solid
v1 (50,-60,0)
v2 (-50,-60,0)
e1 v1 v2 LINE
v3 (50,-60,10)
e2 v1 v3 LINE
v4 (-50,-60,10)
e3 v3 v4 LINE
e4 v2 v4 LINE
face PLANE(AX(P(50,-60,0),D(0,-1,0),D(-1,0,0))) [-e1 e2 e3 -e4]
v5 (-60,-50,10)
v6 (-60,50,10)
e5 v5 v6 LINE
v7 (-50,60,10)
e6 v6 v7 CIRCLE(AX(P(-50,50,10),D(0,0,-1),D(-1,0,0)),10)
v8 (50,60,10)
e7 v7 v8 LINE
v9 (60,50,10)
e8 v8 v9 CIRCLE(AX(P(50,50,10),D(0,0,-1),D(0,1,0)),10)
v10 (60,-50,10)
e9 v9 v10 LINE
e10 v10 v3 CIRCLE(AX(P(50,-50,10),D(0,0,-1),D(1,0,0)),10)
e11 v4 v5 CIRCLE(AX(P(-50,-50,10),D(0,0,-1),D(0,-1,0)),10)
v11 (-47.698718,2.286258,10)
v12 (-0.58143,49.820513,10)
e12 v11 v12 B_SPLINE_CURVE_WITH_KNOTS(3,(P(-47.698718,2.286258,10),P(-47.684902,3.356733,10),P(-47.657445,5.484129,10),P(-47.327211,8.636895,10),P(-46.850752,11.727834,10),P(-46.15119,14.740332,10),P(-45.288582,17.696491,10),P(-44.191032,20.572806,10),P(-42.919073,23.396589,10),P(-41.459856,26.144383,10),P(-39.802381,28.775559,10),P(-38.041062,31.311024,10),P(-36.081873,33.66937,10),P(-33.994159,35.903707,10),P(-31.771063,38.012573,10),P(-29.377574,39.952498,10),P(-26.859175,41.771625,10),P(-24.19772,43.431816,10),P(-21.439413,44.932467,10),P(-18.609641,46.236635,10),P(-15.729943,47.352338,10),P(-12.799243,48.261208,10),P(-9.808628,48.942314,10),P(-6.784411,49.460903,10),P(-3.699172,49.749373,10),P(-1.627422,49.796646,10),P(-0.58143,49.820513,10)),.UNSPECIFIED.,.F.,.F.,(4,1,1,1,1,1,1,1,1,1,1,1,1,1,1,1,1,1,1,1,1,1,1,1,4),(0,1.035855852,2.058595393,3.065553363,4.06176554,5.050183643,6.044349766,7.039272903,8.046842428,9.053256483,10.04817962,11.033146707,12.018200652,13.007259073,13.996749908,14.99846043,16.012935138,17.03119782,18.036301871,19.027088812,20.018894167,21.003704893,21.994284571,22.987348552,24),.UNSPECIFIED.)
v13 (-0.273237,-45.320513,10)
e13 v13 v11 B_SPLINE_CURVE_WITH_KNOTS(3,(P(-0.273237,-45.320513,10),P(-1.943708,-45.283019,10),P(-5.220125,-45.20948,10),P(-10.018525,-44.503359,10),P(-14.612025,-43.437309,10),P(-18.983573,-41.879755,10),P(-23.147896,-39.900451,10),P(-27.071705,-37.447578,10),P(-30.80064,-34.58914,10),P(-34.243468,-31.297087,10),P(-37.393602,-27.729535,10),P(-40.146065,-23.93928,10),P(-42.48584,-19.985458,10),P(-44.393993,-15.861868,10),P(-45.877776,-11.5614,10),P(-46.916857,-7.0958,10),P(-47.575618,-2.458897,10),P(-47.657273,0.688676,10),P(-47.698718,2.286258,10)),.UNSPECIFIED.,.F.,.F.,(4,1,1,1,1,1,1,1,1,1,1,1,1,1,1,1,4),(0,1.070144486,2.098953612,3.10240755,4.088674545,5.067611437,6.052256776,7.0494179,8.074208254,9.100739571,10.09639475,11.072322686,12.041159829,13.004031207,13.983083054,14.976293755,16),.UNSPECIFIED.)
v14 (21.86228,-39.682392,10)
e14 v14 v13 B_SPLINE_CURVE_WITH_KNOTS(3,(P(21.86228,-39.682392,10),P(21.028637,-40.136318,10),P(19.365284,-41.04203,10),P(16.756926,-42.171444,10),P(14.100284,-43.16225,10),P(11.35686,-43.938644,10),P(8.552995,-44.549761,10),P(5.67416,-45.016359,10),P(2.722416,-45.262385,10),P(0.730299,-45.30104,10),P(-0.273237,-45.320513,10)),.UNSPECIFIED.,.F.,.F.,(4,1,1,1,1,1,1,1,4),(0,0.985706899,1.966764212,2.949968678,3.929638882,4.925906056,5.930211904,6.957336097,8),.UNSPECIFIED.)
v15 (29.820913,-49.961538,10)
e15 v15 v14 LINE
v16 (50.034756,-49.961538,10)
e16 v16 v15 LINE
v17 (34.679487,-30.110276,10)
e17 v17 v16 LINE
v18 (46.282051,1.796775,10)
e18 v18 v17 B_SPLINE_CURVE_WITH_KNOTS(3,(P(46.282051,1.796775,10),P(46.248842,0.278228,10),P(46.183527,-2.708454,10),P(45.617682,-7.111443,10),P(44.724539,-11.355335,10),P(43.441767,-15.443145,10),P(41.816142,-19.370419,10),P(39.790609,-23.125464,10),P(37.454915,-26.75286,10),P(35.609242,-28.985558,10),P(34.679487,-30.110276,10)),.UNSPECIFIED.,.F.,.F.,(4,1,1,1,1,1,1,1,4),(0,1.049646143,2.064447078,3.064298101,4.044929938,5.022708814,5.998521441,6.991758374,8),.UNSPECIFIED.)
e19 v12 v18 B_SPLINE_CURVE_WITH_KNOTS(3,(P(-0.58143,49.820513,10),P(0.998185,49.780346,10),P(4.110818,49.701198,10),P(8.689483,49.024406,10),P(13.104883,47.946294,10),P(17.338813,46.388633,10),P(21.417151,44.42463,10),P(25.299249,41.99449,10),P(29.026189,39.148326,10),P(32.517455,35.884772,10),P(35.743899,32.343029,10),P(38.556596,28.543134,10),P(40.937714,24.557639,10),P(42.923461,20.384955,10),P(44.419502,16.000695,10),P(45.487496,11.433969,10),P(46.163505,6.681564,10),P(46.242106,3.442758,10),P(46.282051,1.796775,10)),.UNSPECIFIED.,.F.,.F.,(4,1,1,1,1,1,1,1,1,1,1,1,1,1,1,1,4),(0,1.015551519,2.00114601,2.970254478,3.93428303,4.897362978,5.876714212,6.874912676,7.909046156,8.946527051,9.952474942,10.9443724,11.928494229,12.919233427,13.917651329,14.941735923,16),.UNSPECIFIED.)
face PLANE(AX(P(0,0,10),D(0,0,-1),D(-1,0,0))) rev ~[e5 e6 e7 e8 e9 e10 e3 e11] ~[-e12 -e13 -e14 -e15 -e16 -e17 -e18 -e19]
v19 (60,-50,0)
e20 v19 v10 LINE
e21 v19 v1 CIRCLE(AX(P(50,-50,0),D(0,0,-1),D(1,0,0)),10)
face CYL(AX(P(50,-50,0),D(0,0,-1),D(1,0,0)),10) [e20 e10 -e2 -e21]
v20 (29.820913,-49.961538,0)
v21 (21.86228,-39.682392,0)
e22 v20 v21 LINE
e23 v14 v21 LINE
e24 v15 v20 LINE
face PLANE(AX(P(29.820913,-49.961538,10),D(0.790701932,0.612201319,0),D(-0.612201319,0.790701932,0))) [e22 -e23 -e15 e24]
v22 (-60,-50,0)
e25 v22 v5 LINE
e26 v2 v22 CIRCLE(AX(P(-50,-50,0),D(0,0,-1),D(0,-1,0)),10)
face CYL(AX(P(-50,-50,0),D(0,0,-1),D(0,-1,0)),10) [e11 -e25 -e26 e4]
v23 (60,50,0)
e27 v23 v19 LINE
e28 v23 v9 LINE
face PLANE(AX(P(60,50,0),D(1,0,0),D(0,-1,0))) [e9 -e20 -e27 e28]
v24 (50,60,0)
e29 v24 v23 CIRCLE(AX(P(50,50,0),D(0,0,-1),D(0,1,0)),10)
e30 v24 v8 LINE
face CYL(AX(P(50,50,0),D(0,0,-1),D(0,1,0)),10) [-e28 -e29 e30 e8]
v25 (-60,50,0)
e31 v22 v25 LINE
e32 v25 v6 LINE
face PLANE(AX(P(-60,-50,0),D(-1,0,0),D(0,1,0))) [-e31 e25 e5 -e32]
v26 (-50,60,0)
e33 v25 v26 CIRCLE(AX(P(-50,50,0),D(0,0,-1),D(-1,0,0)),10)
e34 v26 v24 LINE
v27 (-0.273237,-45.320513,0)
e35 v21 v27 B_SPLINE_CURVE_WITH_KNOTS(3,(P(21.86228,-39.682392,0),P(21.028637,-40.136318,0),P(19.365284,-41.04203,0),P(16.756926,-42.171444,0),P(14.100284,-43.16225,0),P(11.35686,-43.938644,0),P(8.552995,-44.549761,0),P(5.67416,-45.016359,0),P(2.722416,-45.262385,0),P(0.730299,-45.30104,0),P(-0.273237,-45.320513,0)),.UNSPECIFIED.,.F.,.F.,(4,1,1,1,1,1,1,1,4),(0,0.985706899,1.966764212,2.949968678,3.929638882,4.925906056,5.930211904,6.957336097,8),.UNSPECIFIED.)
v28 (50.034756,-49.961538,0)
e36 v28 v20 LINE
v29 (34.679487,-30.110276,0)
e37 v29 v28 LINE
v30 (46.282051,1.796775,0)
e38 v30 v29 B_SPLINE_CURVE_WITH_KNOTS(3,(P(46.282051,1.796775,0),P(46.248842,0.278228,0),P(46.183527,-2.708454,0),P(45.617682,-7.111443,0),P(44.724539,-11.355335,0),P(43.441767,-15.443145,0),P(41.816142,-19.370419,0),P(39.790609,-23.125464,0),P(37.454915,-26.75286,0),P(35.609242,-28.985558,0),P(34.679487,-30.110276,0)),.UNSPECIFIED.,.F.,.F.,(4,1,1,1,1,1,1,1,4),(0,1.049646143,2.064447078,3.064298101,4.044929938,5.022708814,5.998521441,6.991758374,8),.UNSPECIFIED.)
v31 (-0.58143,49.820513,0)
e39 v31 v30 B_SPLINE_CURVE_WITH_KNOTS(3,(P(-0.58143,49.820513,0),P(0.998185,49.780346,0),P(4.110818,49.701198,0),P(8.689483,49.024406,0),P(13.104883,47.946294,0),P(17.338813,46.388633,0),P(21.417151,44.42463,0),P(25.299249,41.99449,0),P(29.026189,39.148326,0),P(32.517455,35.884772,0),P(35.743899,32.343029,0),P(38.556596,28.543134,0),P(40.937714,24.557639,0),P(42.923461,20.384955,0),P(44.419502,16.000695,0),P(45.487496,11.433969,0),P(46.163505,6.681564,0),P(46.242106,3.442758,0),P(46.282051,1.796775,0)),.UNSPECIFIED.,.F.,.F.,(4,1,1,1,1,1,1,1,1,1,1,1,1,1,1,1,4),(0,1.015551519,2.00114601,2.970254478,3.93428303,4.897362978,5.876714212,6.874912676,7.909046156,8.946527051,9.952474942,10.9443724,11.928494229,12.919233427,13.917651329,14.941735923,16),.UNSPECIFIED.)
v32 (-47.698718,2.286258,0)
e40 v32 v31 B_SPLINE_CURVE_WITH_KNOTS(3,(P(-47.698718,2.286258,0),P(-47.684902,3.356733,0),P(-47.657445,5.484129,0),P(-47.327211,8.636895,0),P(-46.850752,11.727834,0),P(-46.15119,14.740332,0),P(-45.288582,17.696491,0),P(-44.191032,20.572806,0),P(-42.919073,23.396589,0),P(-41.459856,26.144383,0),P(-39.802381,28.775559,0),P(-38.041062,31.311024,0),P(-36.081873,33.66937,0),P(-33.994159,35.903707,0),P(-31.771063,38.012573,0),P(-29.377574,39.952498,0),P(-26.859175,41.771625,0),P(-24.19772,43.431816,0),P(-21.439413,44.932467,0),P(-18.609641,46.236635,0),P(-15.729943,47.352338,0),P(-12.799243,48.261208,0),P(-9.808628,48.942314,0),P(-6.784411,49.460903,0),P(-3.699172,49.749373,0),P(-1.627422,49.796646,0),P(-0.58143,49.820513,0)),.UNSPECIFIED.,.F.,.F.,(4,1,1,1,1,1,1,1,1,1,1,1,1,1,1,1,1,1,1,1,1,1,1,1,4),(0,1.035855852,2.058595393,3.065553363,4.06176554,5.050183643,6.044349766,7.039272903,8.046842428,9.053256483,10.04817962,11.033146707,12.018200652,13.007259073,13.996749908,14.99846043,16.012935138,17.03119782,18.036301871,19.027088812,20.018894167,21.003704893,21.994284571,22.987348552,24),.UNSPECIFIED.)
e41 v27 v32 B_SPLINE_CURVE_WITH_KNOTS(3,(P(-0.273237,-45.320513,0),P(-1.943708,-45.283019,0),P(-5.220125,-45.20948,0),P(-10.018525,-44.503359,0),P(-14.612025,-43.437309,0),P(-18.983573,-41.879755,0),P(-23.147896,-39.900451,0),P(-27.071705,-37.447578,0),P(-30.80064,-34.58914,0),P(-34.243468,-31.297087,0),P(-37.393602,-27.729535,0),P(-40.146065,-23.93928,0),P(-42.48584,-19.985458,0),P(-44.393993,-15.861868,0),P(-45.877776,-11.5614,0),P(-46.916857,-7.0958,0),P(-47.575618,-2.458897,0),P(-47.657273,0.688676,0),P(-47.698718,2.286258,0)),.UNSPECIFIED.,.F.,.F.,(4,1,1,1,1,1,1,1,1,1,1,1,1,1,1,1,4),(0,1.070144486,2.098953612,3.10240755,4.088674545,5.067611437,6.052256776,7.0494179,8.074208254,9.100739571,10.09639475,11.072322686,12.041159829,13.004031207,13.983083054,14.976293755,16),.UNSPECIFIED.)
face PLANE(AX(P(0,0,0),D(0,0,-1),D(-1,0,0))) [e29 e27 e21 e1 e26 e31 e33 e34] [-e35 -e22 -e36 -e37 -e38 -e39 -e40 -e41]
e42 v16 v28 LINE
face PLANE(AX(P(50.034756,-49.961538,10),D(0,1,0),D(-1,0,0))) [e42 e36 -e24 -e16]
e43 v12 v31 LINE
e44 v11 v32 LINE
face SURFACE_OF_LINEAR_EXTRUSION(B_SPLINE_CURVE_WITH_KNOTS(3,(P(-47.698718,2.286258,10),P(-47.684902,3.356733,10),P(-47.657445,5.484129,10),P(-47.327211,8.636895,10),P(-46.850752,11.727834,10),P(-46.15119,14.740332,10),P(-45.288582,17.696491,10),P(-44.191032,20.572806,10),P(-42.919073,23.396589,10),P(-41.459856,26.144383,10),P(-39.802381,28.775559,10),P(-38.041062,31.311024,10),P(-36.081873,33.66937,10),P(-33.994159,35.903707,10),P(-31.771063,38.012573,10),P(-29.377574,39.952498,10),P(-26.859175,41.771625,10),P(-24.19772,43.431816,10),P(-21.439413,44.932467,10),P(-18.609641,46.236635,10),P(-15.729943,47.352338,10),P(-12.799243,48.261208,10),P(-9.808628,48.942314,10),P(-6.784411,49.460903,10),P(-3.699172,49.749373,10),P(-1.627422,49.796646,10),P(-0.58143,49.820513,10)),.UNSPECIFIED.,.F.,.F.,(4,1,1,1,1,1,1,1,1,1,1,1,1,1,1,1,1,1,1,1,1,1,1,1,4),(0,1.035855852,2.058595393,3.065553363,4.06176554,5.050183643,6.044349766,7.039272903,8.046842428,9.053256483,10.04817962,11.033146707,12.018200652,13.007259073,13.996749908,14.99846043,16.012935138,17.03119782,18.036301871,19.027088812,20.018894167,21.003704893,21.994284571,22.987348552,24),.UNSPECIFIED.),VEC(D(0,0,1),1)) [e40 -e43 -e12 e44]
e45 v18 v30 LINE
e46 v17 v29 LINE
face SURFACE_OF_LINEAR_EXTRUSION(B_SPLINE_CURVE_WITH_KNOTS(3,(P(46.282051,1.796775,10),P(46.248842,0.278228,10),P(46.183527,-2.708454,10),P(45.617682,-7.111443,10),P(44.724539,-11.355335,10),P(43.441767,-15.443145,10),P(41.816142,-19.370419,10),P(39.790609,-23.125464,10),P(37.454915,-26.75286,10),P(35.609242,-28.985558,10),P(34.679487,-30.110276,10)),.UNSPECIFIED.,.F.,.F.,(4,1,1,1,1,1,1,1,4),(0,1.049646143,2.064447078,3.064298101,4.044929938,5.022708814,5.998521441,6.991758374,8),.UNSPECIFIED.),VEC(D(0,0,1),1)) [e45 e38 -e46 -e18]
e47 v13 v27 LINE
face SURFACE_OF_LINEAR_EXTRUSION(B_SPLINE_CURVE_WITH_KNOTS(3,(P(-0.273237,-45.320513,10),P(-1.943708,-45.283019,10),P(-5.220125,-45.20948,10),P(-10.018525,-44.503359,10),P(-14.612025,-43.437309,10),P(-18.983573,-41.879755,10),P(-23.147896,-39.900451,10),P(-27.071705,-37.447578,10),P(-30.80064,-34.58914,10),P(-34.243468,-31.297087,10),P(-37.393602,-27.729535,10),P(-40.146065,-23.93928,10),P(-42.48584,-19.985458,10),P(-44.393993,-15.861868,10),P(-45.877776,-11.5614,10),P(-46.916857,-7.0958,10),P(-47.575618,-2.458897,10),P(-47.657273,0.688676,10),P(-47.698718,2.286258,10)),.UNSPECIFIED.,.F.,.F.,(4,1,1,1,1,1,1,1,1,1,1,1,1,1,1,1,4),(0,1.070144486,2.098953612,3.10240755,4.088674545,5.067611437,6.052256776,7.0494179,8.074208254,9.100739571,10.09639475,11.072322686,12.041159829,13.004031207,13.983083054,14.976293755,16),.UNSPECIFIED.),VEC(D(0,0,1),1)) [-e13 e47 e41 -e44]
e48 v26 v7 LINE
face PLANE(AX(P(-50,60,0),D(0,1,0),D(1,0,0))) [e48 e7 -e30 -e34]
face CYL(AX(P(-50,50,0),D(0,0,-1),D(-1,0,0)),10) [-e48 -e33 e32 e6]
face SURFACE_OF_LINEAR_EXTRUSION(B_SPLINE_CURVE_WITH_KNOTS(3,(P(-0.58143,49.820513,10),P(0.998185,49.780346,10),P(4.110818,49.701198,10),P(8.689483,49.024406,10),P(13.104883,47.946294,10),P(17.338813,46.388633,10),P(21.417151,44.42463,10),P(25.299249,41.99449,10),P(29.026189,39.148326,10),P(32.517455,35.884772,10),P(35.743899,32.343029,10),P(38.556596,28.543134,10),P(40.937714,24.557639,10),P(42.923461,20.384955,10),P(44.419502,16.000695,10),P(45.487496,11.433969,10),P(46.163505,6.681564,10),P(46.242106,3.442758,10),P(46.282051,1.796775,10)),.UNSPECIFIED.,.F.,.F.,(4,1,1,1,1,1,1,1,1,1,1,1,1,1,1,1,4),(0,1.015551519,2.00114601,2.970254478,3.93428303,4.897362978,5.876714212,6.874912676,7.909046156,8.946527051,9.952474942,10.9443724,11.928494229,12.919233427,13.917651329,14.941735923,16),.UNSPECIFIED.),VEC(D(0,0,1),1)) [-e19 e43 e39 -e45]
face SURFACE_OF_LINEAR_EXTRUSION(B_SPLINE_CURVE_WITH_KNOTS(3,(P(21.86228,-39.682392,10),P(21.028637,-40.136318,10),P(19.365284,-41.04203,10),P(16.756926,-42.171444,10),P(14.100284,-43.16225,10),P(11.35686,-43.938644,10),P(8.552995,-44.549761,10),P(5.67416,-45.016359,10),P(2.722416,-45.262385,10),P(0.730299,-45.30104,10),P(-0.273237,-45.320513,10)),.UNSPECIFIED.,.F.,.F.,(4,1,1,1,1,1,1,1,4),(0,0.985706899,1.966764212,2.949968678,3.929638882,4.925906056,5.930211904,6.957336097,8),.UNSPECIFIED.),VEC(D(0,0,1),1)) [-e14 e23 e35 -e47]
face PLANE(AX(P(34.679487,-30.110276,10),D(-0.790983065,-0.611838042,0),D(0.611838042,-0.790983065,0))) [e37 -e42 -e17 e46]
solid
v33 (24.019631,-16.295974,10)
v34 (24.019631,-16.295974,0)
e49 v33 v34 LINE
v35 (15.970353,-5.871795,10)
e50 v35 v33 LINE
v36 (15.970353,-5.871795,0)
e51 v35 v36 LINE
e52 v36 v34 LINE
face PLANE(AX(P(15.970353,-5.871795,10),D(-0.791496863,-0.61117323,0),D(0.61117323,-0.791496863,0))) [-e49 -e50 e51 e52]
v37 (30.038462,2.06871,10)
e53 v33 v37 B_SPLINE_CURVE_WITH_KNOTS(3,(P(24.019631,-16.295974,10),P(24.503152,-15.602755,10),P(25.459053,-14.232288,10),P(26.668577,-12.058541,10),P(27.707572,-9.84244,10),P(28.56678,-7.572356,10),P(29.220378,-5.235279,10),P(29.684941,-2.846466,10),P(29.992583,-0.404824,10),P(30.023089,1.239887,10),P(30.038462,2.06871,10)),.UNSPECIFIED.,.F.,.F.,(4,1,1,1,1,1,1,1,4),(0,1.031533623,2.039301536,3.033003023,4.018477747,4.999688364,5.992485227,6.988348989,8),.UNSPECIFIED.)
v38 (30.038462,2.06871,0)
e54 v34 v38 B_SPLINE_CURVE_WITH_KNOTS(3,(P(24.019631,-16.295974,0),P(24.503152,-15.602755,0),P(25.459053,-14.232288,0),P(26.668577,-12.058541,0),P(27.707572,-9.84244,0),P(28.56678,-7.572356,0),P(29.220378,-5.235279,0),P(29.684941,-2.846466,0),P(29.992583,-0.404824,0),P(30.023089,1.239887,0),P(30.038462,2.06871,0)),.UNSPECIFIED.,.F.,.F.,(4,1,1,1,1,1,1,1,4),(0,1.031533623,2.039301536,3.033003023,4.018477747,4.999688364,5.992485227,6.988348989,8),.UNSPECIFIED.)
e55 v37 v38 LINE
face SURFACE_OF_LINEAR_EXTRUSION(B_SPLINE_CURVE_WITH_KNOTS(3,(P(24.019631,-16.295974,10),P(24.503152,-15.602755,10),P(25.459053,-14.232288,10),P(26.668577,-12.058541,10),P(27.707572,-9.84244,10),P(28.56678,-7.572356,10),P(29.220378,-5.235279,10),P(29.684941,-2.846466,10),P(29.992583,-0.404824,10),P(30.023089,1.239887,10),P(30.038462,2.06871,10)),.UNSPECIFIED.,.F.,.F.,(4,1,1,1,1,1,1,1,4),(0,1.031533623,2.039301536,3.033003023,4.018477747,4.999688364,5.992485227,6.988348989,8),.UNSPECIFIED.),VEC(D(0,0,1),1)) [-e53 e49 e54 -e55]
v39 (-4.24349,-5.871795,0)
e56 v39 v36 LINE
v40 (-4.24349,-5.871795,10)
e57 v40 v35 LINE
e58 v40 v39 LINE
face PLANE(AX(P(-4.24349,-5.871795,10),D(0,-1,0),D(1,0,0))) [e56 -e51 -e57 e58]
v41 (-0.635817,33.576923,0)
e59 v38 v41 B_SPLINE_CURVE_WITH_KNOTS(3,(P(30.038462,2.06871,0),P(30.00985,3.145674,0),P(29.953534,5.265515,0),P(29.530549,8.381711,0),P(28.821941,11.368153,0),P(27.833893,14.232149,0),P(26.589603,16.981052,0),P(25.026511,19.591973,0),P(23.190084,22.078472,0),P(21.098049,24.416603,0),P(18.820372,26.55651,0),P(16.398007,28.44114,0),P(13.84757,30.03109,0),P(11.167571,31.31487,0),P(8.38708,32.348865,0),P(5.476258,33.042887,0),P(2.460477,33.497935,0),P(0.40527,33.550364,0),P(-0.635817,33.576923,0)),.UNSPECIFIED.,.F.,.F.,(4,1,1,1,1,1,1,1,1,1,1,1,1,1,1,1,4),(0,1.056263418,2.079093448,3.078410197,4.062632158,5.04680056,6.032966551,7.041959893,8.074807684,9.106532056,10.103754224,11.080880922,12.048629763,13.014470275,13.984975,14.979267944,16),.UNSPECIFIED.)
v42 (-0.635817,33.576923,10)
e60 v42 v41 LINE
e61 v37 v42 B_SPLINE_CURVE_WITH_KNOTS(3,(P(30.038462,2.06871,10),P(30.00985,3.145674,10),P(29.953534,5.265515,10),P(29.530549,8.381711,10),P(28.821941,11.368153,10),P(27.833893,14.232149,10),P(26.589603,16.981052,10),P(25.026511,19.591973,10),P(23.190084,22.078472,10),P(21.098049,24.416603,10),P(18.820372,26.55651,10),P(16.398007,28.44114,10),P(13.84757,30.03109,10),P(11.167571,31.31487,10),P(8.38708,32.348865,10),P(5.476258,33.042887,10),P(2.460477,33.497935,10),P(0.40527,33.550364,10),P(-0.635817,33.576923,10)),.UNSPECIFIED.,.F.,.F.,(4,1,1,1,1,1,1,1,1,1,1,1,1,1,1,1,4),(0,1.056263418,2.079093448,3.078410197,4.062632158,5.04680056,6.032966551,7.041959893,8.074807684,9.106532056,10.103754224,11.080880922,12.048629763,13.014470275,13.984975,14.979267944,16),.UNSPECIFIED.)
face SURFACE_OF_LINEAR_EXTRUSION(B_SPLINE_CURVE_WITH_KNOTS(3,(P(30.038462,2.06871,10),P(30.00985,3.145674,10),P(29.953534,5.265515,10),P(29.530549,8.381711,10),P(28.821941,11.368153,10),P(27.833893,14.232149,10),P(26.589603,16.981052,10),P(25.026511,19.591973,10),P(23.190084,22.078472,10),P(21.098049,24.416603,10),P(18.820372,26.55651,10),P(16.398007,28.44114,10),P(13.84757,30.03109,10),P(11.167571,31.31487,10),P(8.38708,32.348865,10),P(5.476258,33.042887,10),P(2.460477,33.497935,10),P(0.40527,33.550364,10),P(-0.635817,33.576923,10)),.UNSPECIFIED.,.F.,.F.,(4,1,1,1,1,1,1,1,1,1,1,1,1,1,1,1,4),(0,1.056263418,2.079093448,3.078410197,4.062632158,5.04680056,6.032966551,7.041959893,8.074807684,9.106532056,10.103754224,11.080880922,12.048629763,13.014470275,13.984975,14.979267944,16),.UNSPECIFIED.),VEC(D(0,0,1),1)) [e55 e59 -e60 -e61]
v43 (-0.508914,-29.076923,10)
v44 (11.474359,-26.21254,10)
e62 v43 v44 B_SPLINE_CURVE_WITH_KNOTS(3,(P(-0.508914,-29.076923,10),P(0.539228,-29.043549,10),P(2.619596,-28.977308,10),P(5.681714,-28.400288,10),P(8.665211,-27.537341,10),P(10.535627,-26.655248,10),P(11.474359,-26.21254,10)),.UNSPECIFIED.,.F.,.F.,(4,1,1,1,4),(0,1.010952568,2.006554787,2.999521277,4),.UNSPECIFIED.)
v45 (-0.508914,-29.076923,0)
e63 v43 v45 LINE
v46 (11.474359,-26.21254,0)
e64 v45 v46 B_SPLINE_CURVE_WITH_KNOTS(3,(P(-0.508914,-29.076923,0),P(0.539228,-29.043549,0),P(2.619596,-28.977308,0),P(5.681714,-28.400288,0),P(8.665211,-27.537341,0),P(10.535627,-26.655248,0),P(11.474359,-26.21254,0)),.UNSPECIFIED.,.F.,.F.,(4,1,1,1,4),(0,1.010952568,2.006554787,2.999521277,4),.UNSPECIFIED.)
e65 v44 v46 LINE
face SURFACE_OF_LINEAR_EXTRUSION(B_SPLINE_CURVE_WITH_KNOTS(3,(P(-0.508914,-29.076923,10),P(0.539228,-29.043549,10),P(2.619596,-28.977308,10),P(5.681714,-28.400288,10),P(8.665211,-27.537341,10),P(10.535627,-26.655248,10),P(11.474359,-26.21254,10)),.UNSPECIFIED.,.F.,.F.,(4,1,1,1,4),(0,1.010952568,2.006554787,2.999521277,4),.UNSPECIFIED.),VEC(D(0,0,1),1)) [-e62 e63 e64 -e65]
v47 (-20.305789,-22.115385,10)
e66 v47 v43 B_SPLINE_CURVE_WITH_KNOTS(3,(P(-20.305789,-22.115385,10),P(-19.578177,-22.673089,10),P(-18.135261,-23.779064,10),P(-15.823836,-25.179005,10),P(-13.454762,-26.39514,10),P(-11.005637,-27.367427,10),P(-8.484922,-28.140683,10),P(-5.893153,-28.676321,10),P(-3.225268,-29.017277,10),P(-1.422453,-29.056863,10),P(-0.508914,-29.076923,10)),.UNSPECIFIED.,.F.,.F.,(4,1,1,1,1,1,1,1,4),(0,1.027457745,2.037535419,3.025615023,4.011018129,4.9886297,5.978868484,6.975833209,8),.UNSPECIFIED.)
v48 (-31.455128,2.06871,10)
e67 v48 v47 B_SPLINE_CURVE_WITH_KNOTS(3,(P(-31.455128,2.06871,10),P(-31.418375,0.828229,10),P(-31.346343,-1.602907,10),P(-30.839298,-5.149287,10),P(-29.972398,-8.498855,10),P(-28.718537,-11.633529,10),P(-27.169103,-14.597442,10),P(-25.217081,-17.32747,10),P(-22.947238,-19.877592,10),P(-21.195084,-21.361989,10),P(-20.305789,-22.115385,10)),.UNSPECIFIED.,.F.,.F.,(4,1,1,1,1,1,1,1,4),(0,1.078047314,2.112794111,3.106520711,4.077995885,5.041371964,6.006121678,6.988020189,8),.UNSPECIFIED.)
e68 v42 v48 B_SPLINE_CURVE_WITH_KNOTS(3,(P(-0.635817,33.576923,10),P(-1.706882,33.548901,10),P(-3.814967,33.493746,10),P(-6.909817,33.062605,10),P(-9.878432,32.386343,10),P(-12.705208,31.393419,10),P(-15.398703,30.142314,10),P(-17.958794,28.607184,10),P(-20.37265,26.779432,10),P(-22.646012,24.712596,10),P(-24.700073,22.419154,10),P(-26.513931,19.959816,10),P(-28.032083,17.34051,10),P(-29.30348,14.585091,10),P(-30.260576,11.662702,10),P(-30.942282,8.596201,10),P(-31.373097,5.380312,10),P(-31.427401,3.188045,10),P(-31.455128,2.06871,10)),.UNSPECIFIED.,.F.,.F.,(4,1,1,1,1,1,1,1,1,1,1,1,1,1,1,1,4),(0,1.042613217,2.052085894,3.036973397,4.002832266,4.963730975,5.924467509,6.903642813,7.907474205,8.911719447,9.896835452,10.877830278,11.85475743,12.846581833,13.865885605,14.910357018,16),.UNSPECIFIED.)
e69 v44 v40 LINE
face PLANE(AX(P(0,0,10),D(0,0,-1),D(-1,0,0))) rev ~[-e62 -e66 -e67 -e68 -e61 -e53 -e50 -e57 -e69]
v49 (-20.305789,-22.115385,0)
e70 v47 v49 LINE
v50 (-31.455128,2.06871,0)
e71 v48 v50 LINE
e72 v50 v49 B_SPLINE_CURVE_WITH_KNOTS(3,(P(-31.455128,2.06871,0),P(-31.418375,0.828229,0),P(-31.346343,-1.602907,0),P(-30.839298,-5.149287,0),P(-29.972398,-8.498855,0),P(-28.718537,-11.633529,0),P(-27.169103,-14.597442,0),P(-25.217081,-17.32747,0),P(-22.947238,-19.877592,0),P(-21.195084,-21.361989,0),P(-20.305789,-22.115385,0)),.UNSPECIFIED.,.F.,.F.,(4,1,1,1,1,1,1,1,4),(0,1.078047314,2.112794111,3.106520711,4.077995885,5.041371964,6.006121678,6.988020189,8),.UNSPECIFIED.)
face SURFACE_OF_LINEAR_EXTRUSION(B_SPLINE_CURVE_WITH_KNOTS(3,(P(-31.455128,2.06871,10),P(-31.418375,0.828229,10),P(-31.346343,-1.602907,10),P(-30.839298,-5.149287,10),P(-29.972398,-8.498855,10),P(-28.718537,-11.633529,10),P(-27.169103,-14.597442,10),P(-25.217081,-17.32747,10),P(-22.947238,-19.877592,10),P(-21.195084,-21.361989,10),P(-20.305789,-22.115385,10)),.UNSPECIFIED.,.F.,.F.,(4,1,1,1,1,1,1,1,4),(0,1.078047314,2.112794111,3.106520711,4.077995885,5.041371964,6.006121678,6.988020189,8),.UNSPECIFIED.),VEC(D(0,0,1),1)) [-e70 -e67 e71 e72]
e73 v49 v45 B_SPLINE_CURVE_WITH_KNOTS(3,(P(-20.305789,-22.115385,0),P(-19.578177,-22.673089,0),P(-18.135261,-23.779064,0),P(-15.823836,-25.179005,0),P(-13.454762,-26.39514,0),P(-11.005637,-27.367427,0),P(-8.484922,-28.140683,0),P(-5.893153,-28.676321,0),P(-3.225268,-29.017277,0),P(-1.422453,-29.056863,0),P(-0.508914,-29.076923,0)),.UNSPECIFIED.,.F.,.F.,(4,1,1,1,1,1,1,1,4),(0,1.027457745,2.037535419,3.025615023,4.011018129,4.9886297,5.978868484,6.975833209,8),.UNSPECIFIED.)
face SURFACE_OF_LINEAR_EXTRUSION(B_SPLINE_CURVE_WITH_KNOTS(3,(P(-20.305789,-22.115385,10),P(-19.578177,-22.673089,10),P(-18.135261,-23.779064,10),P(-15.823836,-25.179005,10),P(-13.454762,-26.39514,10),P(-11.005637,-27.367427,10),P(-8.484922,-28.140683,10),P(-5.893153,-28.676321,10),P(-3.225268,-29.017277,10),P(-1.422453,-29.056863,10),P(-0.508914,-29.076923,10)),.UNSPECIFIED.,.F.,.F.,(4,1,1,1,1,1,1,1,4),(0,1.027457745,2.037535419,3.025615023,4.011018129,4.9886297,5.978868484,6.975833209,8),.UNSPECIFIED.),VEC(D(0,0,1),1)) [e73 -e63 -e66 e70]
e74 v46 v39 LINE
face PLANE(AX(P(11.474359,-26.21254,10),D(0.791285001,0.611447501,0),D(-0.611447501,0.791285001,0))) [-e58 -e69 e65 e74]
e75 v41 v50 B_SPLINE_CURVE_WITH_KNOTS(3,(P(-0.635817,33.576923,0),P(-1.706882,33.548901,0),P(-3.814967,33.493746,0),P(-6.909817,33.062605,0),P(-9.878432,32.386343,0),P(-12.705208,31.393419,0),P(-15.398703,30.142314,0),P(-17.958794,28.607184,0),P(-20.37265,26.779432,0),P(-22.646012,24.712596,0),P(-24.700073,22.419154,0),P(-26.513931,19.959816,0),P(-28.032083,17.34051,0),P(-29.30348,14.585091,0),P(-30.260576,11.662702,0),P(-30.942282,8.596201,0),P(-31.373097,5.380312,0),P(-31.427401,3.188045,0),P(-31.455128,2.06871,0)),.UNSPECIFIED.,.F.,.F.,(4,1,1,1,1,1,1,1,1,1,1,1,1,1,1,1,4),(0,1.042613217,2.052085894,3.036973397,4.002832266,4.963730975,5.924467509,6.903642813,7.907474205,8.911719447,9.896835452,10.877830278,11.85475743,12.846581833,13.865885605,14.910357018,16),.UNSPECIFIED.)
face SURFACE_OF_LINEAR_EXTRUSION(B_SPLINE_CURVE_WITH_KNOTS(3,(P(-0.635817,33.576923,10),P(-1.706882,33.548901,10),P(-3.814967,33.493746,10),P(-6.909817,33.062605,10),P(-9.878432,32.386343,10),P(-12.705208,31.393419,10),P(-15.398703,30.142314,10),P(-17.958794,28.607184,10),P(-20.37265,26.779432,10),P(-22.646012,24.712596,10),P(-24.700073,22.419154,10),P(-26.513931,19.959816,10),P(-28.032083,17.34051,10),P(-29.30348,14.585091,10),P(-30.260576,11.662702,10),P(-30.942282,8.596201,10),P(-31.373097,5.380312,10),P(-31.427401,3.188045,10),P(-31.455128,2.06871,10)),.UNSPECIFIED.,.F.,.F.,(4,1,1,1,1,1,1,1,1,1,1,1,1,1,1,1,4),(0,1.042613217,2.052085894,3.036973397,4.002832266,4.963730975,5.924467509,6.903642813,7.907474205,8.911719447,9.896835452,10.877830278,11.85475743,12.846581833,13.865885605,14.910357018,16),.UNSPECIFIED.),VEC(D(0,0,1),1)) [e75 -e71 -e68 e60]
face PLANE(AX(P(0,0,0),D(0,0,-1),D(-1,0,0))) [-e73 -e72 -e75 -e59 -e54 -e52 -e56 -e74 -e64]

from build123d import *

# Parameters (mm, degrees)
BOSS_EXTRUDE1_DEPTH = 10
CUT_EXTRUDE30_DEPTH = 10


with BuildPart() as part:
    # Sketch1 → Boss-Extrude1 (new body)
    with BuildSketch(Plane.XY):
        with BuildLine():
            Line((-50, 60), (50, 60))
            ThreePointArc((50, 60), (57.071067812, 57.071067812), (60, 50))
            Line((60, 50), (60, -50))
            ThreePointArc((60, -50), (57.071067812, -57.071067812), (50, -60))
            Line((50, -60), (-50, -60))
            ThreePointArc((-50, -60), (-57.071067812, -57.071067812), (-60, -50))
            Line((-60, -50), (-60, 50))
            ThreePointArc((-60, 50), (-57.071067812, 57.071067812), (-50, 60))
        make_face()
    extrude(amount=BOSS_EXTRUDE1_DEPTH)

    # Sketch2 → Cut-Extrude30 (cut)
    with BuildSketch(Plane.XY.offset(10)):
        with BuildLine():
            Line((34.679487179, -30.110276442), (50.034755609, -49.961538462))
            Line((50.034755609, -49.961538462), (29.820913462, -49.961538462))
            Line((29.820913462, -49.961538462), (21.862279647, -39.682391827))
            add(Edge.make_bspline(
                [(21.862279647, -39.682391827), (21.028636889, -40.13631813), (19.365283671, -41.042029562), (16.756926427, -42.17144448), (14.100283795, -43.162249693), (11.356860263, -43.938644226), (8.552995064, -44.549760982), (5.674160188, -45.016358639), (2.722415565, -45.262385211), (0.730299256, -45.301040212), (-0.273237179, -45.320512821)],
                knots=[0, 0, 0, 0, 0.985706899, 1.966764212, 2.949968678, 3.929638882, 4.925906056, 5.930211904, 6.957336097, 8, 8, 8, 8], degree=3))
            add(Edge.make_bspline(
                [(-0.273237179, -45.320512821), (-1.943707755, -45.2830191), (-5.220125373, -45.20947989), (-10.018525485, -44.503359304), (-14.612024859, -43.437309106), (-18.983572708, -41.879755235), (-23.147896164, -39.900451393), (-27.071705006, -37.44757751), (-30.800639809, -34.589140476), (-34.243467737, -31.297087019), (-37.393601579, -27.729534621), (-40.146065424, -23.939279645), (-42.485840439, -19.985458154), (-44.393993134, -15.861867917), (-45.877775794, -11.561399926), (-46.916857054, -7.095800135), (-47.575617941, -2.458897103), (-47.657273074, 0.688675998), (-47.698717949, 2.286258013)],
                knots=[0, 0, 0, 0, 1.070144486, 2.098953612, 3.10240755, 4.088674545, 5.067611437, 6.052256776, 7.0494179, 8.074208254, 9.100739571, 10.09639475, 11.072322686, 12.041159829, 13.004031207, 13.983083054, 14.976293755, 16, 16, 16, 16], degree=3))
            add(Edge.make_bspline(
                [(-47.698717949, 2.286258013), (-47.68490183, 3.356733224), (-47.657444538, 5.484128975), (-47.327210884, 8.6368946), (-46.850752443, 11.727833839), (-46.151190307, 14.74033241), (-45.288582206, 17.696491246), (-44.191031683, 20.572805967), (-42.919073323, 23.396589439), (-41.459855526, 26.144382866), (-39.802380811, 28.775558698), (-38.041061641, 31.31102389), (-36.081873052, 33.669369844), (-33.994159324, 35.903707249), (-31.77106306, 38.012572637), (-29.377573837, 39.952497747), (-26.859174583, 41.771624572), (-24.197719737, 43.43181558), (-21.439412994, 44.93246709), (-18.609641292, 46.236635032), (-15.729942798, 47.352337727), (-12.799243113, 48.261207723), (-9.808627646, 48.942314164), (-6.784411427, 49.460902683), (-3.699171778, 49.749373328), (-1.627421569, 49.796645772), (-0.581430288, 49.820512821)],
                knots=[0, 0, 0, 0, 1.035855852, 2.058595393, 3.065553363, 4.06176554, 5.050183643, 6.044349766, 7.039272903, 8.046842428, 9.053256483, 10.04817962, 11.033146707, 12.018200652, 13.007259073, 13.996749908, 14.99846043, 16.012935138, 17.03119782, 18.036301871, 19.027088812, 20.018894167, 21.003704893, 21.994284571, 22.987348552, 24, 24, 24, 24], degree=3))
            add(Edge.make_bspline(
                [(-0.581430288, 49.820512821), (0.998184613, 49.780346116), (4.110818488, 49.701197556), (8.68948271, 49.024406152), (13.104883273, 47.946293747), (17.338813358, 46.388632552), (21.41715076, 44.424629811), (25.299249447, 41.994489959), (29.026189183, 39.148326151), (32.517455101, 35.884771616), (35.743898736, 32.343029059), (38.55659627, 28.543134016), (40.937713959, 24.557638894), (42.923461145, 20.384954757), (44.419502424, 16.000695357), (45.487496376, 11.433969418), (46.163505462, 6.681564069), (46.242105962, 3.442758404), (46.282051282, 1.79677484)],
                knots=[0, 0, 0, 0, 1.015551519, 2.00114601, 2.970254478, 3.93428303, 4.897362978, 5.876714212, 6.874912676, 7.909046156, 8.946527051, 9.952474942, 10.9443724, 11.928494229, 12.919233427, 13.917651329, 14.941735923, 16, 16, 16, 16], degree=3))
            add(Edge.make_bspline(
                [(46.282051282, 1.79677484), (46.248842407, 0.278228079), (46.183527095, -2.708454096), (45.617682253, -7.111443251), (44.72453868, -11.355335032), (43.441766637, -15.443145433), (41.816142299, -19.370418849), (39.790609499, -23.125463581), (37.454914599, -26.752859668), (35.609241868, -28.98555815), (34.679487179, -30.110276442)],
                knots=[0, 0, 0, 0, 1.049646143, 2.064447078, 3.064298101, 4.044929938, 5.022708814, 5.998521441, 6.991758374, 8, 8, 8, 8], degree=3))
        make_face()
        with BuildLine():
            add(Edge.make_bspline(
                [(24.01963141, -16.295973558), (24.503152044, -15.602754628), (25.459053382, -14.232287977), (26.668577179, -12.058541493), (27.707571786, -9.842440449), (28.566779655, -7.572356125), (29.220378102, -5.235279024), (29.684941119, -2.846466341), (29.992583116, -0.404824089), (30.023088765, 1.239887216), (30.038461538, 2.068709936)],
                knots=[0, 0, 0, 0, 1.031533623, 2.039301536, 3.033003023, 4.018477747, 4.999688364, 5.992485227, 6.988348989, 8, 8, 8, 8], degree=3))
            add(Edge.make_bspline(
                [(30.038461538, 2.068709936), (30.009850326, 3.145674355), (29.953533519, 5.265514566), (29.530549262, 8.381710893), (28.821940832, 11.368152518), (27.833892691, 14.23214909), (26.589602509, 16.981052453), (25.026511142, 19.591973208), (23.190084094, 22.078472075), (21.098048857, 24.416603027), (18.820371693, 26.55651043), (16.398006708, 28.44114004), (13.847570492, 30.031089832), (11.167571056, 31.314870476), (8.387079976, 32.348864672), (5.476258352, 33.042886895), (2.460477205, 33.49793493), (0.405269645, 33.550364386), (-0.635817308, 33.576923077)],
                knots=[0, 0, 0, 0, 1.056263418, 2.079093448, 3.078410197, 4.062632158, 5.04680056, 6.032966551, 7.041959893, 8.074807684, 9.106532056, 10.103754224, 11.080880922, 12.048629763, 13.014470275, 13.984975, 14.979267944, 16, 16, 16, 16], degree=3))
            add(Edge.make_bspline(
                [(-0.635817308, 33.576923077), (-1.706882135, 33.548900581), (-3.814966885, 33.493746315), (-6.909817152, 33.062604664), (-9.878432223, 32.386342916), (-12.705207788, 31.393419492), (-15.398702815, 30.142314304), (-17.958793751, 28.607183918), (-20.37265042, 26.779432419), (-22.646011859, 24.712596214), (-24.70007342, 22.419154278), (-26.51393123, 19.959815561), (-28.032083163, 17.340510368), (-29.303479816, 14.585091262), (-30.26057587, 11.662702458), (-30.942282438, 8.596200892), (-31.373096623, 5.380312305), (-31.4274012, 3.188044879), (-31.455128205, 2.068709936)],
                knots=[0, 0, 0, 0, 1.042613217, 2.052085894, 3.036973397, 4.002832266, 4.963730975, 5.924467509, 6.903642813, 7.907474205, 8.911719447, 9.896835452, 10.877830278, 11.85475743, 12.846581833, 13.865885605, 14.910357018, 16, 16, 16, 16], degree=3))
            add(Edge.make_bspline(
                [(-31.455128205, 2.068709936), (-31.418374502, 0.828229349), (-31.346343335, -1.602907063), (-30.839297587, -5.149286692), (-29.97239753, -8.498855058), (-28.718537237, -11.633528512), (-27.169103125, -14.597442255), (-25.217080975, -17.327470301), (-22.947238015, -19.877591592), (-21.195083665, -21.361988659), (-20.305789263, -22.115384615)],
                knots=[0, 0, 0, 0, 1.078047314, 2.112794111, 3.106520711, 4.077995885, 5.041371964, 6.006121678, 6.988020189, 8, 8, 8, 8], degree=3))
            add(Edge.make_bspline(
                [(-20.305789263, -22.115384615), (-19.578177215, -22.673089048), (-18.135261117, -23.779064006), (-15.823836417, -25.17900528), (-13.454762015, -26.395140491), (-11.005637064, -27.367427381), (-8.484922157, -28.140683352), (-5.893153297, -28.676320773), (-3.225267882, -29.017276933), (-1.422453394, -29.056863433), (-0.508914263, -29.076923077)],
                knots=[0, 0, 0, 0, 1.027457745, 2.037535419, 3.025615023, 4.011018129, 4.9886297, 5.978868484, 6.975833209, 8, 8, 8, 8], degree=3))
            add(Edge.make_bspline(
                [(-0.508914263, -29.076923077), (0.539227598, -29.043549083), (2.619596288, -28.977307848), (5.681714216, -28.4002877), (8.665210605, -27.537340864), (10.53562665, -26.655248376), (11.474358974, -26.212540064)],
                knots=[0, 0, 0, 0, 1.010952568, 2.006554787, 2.999521277, 4, 4, 4, 4], degree=3))
            Line((11.474358974, -26.212540064), (-4.243489583, -5.871794872))
            Line((-4.243489583, -5.871794872), (15.970352564, -5.871794872))
            Line((15.970352564, -5.871794872), (24.01963141, -16.295973558))
        make_face(mode=Mode.SUBTRACT)
    extrude(amount=-CUT_EXTRUDE30_DEPTH, mode=Mode.SUBTRACT)


with BuildPart() as cut_extrude30_piece_1:
    # of the separate pieces the step leaves, piece 1, a body of its own (cut_extrude30_pieces)
    add(part.part.solids().sort_by_distance((-50, 60, 0))[0])


with BuildPart() as cut_extrude30_piece_2:
    # of the separate pieces the step leaves, piece 2, a body of its own (cut_extrude30_pieces)
    add(part.part.solids().sort_by_distance((24.01963141, -16.295973558, 0))[0])


solid = Compound([cut_extrude30_piece_1.part, cut_extrude30_piece_2.part])
